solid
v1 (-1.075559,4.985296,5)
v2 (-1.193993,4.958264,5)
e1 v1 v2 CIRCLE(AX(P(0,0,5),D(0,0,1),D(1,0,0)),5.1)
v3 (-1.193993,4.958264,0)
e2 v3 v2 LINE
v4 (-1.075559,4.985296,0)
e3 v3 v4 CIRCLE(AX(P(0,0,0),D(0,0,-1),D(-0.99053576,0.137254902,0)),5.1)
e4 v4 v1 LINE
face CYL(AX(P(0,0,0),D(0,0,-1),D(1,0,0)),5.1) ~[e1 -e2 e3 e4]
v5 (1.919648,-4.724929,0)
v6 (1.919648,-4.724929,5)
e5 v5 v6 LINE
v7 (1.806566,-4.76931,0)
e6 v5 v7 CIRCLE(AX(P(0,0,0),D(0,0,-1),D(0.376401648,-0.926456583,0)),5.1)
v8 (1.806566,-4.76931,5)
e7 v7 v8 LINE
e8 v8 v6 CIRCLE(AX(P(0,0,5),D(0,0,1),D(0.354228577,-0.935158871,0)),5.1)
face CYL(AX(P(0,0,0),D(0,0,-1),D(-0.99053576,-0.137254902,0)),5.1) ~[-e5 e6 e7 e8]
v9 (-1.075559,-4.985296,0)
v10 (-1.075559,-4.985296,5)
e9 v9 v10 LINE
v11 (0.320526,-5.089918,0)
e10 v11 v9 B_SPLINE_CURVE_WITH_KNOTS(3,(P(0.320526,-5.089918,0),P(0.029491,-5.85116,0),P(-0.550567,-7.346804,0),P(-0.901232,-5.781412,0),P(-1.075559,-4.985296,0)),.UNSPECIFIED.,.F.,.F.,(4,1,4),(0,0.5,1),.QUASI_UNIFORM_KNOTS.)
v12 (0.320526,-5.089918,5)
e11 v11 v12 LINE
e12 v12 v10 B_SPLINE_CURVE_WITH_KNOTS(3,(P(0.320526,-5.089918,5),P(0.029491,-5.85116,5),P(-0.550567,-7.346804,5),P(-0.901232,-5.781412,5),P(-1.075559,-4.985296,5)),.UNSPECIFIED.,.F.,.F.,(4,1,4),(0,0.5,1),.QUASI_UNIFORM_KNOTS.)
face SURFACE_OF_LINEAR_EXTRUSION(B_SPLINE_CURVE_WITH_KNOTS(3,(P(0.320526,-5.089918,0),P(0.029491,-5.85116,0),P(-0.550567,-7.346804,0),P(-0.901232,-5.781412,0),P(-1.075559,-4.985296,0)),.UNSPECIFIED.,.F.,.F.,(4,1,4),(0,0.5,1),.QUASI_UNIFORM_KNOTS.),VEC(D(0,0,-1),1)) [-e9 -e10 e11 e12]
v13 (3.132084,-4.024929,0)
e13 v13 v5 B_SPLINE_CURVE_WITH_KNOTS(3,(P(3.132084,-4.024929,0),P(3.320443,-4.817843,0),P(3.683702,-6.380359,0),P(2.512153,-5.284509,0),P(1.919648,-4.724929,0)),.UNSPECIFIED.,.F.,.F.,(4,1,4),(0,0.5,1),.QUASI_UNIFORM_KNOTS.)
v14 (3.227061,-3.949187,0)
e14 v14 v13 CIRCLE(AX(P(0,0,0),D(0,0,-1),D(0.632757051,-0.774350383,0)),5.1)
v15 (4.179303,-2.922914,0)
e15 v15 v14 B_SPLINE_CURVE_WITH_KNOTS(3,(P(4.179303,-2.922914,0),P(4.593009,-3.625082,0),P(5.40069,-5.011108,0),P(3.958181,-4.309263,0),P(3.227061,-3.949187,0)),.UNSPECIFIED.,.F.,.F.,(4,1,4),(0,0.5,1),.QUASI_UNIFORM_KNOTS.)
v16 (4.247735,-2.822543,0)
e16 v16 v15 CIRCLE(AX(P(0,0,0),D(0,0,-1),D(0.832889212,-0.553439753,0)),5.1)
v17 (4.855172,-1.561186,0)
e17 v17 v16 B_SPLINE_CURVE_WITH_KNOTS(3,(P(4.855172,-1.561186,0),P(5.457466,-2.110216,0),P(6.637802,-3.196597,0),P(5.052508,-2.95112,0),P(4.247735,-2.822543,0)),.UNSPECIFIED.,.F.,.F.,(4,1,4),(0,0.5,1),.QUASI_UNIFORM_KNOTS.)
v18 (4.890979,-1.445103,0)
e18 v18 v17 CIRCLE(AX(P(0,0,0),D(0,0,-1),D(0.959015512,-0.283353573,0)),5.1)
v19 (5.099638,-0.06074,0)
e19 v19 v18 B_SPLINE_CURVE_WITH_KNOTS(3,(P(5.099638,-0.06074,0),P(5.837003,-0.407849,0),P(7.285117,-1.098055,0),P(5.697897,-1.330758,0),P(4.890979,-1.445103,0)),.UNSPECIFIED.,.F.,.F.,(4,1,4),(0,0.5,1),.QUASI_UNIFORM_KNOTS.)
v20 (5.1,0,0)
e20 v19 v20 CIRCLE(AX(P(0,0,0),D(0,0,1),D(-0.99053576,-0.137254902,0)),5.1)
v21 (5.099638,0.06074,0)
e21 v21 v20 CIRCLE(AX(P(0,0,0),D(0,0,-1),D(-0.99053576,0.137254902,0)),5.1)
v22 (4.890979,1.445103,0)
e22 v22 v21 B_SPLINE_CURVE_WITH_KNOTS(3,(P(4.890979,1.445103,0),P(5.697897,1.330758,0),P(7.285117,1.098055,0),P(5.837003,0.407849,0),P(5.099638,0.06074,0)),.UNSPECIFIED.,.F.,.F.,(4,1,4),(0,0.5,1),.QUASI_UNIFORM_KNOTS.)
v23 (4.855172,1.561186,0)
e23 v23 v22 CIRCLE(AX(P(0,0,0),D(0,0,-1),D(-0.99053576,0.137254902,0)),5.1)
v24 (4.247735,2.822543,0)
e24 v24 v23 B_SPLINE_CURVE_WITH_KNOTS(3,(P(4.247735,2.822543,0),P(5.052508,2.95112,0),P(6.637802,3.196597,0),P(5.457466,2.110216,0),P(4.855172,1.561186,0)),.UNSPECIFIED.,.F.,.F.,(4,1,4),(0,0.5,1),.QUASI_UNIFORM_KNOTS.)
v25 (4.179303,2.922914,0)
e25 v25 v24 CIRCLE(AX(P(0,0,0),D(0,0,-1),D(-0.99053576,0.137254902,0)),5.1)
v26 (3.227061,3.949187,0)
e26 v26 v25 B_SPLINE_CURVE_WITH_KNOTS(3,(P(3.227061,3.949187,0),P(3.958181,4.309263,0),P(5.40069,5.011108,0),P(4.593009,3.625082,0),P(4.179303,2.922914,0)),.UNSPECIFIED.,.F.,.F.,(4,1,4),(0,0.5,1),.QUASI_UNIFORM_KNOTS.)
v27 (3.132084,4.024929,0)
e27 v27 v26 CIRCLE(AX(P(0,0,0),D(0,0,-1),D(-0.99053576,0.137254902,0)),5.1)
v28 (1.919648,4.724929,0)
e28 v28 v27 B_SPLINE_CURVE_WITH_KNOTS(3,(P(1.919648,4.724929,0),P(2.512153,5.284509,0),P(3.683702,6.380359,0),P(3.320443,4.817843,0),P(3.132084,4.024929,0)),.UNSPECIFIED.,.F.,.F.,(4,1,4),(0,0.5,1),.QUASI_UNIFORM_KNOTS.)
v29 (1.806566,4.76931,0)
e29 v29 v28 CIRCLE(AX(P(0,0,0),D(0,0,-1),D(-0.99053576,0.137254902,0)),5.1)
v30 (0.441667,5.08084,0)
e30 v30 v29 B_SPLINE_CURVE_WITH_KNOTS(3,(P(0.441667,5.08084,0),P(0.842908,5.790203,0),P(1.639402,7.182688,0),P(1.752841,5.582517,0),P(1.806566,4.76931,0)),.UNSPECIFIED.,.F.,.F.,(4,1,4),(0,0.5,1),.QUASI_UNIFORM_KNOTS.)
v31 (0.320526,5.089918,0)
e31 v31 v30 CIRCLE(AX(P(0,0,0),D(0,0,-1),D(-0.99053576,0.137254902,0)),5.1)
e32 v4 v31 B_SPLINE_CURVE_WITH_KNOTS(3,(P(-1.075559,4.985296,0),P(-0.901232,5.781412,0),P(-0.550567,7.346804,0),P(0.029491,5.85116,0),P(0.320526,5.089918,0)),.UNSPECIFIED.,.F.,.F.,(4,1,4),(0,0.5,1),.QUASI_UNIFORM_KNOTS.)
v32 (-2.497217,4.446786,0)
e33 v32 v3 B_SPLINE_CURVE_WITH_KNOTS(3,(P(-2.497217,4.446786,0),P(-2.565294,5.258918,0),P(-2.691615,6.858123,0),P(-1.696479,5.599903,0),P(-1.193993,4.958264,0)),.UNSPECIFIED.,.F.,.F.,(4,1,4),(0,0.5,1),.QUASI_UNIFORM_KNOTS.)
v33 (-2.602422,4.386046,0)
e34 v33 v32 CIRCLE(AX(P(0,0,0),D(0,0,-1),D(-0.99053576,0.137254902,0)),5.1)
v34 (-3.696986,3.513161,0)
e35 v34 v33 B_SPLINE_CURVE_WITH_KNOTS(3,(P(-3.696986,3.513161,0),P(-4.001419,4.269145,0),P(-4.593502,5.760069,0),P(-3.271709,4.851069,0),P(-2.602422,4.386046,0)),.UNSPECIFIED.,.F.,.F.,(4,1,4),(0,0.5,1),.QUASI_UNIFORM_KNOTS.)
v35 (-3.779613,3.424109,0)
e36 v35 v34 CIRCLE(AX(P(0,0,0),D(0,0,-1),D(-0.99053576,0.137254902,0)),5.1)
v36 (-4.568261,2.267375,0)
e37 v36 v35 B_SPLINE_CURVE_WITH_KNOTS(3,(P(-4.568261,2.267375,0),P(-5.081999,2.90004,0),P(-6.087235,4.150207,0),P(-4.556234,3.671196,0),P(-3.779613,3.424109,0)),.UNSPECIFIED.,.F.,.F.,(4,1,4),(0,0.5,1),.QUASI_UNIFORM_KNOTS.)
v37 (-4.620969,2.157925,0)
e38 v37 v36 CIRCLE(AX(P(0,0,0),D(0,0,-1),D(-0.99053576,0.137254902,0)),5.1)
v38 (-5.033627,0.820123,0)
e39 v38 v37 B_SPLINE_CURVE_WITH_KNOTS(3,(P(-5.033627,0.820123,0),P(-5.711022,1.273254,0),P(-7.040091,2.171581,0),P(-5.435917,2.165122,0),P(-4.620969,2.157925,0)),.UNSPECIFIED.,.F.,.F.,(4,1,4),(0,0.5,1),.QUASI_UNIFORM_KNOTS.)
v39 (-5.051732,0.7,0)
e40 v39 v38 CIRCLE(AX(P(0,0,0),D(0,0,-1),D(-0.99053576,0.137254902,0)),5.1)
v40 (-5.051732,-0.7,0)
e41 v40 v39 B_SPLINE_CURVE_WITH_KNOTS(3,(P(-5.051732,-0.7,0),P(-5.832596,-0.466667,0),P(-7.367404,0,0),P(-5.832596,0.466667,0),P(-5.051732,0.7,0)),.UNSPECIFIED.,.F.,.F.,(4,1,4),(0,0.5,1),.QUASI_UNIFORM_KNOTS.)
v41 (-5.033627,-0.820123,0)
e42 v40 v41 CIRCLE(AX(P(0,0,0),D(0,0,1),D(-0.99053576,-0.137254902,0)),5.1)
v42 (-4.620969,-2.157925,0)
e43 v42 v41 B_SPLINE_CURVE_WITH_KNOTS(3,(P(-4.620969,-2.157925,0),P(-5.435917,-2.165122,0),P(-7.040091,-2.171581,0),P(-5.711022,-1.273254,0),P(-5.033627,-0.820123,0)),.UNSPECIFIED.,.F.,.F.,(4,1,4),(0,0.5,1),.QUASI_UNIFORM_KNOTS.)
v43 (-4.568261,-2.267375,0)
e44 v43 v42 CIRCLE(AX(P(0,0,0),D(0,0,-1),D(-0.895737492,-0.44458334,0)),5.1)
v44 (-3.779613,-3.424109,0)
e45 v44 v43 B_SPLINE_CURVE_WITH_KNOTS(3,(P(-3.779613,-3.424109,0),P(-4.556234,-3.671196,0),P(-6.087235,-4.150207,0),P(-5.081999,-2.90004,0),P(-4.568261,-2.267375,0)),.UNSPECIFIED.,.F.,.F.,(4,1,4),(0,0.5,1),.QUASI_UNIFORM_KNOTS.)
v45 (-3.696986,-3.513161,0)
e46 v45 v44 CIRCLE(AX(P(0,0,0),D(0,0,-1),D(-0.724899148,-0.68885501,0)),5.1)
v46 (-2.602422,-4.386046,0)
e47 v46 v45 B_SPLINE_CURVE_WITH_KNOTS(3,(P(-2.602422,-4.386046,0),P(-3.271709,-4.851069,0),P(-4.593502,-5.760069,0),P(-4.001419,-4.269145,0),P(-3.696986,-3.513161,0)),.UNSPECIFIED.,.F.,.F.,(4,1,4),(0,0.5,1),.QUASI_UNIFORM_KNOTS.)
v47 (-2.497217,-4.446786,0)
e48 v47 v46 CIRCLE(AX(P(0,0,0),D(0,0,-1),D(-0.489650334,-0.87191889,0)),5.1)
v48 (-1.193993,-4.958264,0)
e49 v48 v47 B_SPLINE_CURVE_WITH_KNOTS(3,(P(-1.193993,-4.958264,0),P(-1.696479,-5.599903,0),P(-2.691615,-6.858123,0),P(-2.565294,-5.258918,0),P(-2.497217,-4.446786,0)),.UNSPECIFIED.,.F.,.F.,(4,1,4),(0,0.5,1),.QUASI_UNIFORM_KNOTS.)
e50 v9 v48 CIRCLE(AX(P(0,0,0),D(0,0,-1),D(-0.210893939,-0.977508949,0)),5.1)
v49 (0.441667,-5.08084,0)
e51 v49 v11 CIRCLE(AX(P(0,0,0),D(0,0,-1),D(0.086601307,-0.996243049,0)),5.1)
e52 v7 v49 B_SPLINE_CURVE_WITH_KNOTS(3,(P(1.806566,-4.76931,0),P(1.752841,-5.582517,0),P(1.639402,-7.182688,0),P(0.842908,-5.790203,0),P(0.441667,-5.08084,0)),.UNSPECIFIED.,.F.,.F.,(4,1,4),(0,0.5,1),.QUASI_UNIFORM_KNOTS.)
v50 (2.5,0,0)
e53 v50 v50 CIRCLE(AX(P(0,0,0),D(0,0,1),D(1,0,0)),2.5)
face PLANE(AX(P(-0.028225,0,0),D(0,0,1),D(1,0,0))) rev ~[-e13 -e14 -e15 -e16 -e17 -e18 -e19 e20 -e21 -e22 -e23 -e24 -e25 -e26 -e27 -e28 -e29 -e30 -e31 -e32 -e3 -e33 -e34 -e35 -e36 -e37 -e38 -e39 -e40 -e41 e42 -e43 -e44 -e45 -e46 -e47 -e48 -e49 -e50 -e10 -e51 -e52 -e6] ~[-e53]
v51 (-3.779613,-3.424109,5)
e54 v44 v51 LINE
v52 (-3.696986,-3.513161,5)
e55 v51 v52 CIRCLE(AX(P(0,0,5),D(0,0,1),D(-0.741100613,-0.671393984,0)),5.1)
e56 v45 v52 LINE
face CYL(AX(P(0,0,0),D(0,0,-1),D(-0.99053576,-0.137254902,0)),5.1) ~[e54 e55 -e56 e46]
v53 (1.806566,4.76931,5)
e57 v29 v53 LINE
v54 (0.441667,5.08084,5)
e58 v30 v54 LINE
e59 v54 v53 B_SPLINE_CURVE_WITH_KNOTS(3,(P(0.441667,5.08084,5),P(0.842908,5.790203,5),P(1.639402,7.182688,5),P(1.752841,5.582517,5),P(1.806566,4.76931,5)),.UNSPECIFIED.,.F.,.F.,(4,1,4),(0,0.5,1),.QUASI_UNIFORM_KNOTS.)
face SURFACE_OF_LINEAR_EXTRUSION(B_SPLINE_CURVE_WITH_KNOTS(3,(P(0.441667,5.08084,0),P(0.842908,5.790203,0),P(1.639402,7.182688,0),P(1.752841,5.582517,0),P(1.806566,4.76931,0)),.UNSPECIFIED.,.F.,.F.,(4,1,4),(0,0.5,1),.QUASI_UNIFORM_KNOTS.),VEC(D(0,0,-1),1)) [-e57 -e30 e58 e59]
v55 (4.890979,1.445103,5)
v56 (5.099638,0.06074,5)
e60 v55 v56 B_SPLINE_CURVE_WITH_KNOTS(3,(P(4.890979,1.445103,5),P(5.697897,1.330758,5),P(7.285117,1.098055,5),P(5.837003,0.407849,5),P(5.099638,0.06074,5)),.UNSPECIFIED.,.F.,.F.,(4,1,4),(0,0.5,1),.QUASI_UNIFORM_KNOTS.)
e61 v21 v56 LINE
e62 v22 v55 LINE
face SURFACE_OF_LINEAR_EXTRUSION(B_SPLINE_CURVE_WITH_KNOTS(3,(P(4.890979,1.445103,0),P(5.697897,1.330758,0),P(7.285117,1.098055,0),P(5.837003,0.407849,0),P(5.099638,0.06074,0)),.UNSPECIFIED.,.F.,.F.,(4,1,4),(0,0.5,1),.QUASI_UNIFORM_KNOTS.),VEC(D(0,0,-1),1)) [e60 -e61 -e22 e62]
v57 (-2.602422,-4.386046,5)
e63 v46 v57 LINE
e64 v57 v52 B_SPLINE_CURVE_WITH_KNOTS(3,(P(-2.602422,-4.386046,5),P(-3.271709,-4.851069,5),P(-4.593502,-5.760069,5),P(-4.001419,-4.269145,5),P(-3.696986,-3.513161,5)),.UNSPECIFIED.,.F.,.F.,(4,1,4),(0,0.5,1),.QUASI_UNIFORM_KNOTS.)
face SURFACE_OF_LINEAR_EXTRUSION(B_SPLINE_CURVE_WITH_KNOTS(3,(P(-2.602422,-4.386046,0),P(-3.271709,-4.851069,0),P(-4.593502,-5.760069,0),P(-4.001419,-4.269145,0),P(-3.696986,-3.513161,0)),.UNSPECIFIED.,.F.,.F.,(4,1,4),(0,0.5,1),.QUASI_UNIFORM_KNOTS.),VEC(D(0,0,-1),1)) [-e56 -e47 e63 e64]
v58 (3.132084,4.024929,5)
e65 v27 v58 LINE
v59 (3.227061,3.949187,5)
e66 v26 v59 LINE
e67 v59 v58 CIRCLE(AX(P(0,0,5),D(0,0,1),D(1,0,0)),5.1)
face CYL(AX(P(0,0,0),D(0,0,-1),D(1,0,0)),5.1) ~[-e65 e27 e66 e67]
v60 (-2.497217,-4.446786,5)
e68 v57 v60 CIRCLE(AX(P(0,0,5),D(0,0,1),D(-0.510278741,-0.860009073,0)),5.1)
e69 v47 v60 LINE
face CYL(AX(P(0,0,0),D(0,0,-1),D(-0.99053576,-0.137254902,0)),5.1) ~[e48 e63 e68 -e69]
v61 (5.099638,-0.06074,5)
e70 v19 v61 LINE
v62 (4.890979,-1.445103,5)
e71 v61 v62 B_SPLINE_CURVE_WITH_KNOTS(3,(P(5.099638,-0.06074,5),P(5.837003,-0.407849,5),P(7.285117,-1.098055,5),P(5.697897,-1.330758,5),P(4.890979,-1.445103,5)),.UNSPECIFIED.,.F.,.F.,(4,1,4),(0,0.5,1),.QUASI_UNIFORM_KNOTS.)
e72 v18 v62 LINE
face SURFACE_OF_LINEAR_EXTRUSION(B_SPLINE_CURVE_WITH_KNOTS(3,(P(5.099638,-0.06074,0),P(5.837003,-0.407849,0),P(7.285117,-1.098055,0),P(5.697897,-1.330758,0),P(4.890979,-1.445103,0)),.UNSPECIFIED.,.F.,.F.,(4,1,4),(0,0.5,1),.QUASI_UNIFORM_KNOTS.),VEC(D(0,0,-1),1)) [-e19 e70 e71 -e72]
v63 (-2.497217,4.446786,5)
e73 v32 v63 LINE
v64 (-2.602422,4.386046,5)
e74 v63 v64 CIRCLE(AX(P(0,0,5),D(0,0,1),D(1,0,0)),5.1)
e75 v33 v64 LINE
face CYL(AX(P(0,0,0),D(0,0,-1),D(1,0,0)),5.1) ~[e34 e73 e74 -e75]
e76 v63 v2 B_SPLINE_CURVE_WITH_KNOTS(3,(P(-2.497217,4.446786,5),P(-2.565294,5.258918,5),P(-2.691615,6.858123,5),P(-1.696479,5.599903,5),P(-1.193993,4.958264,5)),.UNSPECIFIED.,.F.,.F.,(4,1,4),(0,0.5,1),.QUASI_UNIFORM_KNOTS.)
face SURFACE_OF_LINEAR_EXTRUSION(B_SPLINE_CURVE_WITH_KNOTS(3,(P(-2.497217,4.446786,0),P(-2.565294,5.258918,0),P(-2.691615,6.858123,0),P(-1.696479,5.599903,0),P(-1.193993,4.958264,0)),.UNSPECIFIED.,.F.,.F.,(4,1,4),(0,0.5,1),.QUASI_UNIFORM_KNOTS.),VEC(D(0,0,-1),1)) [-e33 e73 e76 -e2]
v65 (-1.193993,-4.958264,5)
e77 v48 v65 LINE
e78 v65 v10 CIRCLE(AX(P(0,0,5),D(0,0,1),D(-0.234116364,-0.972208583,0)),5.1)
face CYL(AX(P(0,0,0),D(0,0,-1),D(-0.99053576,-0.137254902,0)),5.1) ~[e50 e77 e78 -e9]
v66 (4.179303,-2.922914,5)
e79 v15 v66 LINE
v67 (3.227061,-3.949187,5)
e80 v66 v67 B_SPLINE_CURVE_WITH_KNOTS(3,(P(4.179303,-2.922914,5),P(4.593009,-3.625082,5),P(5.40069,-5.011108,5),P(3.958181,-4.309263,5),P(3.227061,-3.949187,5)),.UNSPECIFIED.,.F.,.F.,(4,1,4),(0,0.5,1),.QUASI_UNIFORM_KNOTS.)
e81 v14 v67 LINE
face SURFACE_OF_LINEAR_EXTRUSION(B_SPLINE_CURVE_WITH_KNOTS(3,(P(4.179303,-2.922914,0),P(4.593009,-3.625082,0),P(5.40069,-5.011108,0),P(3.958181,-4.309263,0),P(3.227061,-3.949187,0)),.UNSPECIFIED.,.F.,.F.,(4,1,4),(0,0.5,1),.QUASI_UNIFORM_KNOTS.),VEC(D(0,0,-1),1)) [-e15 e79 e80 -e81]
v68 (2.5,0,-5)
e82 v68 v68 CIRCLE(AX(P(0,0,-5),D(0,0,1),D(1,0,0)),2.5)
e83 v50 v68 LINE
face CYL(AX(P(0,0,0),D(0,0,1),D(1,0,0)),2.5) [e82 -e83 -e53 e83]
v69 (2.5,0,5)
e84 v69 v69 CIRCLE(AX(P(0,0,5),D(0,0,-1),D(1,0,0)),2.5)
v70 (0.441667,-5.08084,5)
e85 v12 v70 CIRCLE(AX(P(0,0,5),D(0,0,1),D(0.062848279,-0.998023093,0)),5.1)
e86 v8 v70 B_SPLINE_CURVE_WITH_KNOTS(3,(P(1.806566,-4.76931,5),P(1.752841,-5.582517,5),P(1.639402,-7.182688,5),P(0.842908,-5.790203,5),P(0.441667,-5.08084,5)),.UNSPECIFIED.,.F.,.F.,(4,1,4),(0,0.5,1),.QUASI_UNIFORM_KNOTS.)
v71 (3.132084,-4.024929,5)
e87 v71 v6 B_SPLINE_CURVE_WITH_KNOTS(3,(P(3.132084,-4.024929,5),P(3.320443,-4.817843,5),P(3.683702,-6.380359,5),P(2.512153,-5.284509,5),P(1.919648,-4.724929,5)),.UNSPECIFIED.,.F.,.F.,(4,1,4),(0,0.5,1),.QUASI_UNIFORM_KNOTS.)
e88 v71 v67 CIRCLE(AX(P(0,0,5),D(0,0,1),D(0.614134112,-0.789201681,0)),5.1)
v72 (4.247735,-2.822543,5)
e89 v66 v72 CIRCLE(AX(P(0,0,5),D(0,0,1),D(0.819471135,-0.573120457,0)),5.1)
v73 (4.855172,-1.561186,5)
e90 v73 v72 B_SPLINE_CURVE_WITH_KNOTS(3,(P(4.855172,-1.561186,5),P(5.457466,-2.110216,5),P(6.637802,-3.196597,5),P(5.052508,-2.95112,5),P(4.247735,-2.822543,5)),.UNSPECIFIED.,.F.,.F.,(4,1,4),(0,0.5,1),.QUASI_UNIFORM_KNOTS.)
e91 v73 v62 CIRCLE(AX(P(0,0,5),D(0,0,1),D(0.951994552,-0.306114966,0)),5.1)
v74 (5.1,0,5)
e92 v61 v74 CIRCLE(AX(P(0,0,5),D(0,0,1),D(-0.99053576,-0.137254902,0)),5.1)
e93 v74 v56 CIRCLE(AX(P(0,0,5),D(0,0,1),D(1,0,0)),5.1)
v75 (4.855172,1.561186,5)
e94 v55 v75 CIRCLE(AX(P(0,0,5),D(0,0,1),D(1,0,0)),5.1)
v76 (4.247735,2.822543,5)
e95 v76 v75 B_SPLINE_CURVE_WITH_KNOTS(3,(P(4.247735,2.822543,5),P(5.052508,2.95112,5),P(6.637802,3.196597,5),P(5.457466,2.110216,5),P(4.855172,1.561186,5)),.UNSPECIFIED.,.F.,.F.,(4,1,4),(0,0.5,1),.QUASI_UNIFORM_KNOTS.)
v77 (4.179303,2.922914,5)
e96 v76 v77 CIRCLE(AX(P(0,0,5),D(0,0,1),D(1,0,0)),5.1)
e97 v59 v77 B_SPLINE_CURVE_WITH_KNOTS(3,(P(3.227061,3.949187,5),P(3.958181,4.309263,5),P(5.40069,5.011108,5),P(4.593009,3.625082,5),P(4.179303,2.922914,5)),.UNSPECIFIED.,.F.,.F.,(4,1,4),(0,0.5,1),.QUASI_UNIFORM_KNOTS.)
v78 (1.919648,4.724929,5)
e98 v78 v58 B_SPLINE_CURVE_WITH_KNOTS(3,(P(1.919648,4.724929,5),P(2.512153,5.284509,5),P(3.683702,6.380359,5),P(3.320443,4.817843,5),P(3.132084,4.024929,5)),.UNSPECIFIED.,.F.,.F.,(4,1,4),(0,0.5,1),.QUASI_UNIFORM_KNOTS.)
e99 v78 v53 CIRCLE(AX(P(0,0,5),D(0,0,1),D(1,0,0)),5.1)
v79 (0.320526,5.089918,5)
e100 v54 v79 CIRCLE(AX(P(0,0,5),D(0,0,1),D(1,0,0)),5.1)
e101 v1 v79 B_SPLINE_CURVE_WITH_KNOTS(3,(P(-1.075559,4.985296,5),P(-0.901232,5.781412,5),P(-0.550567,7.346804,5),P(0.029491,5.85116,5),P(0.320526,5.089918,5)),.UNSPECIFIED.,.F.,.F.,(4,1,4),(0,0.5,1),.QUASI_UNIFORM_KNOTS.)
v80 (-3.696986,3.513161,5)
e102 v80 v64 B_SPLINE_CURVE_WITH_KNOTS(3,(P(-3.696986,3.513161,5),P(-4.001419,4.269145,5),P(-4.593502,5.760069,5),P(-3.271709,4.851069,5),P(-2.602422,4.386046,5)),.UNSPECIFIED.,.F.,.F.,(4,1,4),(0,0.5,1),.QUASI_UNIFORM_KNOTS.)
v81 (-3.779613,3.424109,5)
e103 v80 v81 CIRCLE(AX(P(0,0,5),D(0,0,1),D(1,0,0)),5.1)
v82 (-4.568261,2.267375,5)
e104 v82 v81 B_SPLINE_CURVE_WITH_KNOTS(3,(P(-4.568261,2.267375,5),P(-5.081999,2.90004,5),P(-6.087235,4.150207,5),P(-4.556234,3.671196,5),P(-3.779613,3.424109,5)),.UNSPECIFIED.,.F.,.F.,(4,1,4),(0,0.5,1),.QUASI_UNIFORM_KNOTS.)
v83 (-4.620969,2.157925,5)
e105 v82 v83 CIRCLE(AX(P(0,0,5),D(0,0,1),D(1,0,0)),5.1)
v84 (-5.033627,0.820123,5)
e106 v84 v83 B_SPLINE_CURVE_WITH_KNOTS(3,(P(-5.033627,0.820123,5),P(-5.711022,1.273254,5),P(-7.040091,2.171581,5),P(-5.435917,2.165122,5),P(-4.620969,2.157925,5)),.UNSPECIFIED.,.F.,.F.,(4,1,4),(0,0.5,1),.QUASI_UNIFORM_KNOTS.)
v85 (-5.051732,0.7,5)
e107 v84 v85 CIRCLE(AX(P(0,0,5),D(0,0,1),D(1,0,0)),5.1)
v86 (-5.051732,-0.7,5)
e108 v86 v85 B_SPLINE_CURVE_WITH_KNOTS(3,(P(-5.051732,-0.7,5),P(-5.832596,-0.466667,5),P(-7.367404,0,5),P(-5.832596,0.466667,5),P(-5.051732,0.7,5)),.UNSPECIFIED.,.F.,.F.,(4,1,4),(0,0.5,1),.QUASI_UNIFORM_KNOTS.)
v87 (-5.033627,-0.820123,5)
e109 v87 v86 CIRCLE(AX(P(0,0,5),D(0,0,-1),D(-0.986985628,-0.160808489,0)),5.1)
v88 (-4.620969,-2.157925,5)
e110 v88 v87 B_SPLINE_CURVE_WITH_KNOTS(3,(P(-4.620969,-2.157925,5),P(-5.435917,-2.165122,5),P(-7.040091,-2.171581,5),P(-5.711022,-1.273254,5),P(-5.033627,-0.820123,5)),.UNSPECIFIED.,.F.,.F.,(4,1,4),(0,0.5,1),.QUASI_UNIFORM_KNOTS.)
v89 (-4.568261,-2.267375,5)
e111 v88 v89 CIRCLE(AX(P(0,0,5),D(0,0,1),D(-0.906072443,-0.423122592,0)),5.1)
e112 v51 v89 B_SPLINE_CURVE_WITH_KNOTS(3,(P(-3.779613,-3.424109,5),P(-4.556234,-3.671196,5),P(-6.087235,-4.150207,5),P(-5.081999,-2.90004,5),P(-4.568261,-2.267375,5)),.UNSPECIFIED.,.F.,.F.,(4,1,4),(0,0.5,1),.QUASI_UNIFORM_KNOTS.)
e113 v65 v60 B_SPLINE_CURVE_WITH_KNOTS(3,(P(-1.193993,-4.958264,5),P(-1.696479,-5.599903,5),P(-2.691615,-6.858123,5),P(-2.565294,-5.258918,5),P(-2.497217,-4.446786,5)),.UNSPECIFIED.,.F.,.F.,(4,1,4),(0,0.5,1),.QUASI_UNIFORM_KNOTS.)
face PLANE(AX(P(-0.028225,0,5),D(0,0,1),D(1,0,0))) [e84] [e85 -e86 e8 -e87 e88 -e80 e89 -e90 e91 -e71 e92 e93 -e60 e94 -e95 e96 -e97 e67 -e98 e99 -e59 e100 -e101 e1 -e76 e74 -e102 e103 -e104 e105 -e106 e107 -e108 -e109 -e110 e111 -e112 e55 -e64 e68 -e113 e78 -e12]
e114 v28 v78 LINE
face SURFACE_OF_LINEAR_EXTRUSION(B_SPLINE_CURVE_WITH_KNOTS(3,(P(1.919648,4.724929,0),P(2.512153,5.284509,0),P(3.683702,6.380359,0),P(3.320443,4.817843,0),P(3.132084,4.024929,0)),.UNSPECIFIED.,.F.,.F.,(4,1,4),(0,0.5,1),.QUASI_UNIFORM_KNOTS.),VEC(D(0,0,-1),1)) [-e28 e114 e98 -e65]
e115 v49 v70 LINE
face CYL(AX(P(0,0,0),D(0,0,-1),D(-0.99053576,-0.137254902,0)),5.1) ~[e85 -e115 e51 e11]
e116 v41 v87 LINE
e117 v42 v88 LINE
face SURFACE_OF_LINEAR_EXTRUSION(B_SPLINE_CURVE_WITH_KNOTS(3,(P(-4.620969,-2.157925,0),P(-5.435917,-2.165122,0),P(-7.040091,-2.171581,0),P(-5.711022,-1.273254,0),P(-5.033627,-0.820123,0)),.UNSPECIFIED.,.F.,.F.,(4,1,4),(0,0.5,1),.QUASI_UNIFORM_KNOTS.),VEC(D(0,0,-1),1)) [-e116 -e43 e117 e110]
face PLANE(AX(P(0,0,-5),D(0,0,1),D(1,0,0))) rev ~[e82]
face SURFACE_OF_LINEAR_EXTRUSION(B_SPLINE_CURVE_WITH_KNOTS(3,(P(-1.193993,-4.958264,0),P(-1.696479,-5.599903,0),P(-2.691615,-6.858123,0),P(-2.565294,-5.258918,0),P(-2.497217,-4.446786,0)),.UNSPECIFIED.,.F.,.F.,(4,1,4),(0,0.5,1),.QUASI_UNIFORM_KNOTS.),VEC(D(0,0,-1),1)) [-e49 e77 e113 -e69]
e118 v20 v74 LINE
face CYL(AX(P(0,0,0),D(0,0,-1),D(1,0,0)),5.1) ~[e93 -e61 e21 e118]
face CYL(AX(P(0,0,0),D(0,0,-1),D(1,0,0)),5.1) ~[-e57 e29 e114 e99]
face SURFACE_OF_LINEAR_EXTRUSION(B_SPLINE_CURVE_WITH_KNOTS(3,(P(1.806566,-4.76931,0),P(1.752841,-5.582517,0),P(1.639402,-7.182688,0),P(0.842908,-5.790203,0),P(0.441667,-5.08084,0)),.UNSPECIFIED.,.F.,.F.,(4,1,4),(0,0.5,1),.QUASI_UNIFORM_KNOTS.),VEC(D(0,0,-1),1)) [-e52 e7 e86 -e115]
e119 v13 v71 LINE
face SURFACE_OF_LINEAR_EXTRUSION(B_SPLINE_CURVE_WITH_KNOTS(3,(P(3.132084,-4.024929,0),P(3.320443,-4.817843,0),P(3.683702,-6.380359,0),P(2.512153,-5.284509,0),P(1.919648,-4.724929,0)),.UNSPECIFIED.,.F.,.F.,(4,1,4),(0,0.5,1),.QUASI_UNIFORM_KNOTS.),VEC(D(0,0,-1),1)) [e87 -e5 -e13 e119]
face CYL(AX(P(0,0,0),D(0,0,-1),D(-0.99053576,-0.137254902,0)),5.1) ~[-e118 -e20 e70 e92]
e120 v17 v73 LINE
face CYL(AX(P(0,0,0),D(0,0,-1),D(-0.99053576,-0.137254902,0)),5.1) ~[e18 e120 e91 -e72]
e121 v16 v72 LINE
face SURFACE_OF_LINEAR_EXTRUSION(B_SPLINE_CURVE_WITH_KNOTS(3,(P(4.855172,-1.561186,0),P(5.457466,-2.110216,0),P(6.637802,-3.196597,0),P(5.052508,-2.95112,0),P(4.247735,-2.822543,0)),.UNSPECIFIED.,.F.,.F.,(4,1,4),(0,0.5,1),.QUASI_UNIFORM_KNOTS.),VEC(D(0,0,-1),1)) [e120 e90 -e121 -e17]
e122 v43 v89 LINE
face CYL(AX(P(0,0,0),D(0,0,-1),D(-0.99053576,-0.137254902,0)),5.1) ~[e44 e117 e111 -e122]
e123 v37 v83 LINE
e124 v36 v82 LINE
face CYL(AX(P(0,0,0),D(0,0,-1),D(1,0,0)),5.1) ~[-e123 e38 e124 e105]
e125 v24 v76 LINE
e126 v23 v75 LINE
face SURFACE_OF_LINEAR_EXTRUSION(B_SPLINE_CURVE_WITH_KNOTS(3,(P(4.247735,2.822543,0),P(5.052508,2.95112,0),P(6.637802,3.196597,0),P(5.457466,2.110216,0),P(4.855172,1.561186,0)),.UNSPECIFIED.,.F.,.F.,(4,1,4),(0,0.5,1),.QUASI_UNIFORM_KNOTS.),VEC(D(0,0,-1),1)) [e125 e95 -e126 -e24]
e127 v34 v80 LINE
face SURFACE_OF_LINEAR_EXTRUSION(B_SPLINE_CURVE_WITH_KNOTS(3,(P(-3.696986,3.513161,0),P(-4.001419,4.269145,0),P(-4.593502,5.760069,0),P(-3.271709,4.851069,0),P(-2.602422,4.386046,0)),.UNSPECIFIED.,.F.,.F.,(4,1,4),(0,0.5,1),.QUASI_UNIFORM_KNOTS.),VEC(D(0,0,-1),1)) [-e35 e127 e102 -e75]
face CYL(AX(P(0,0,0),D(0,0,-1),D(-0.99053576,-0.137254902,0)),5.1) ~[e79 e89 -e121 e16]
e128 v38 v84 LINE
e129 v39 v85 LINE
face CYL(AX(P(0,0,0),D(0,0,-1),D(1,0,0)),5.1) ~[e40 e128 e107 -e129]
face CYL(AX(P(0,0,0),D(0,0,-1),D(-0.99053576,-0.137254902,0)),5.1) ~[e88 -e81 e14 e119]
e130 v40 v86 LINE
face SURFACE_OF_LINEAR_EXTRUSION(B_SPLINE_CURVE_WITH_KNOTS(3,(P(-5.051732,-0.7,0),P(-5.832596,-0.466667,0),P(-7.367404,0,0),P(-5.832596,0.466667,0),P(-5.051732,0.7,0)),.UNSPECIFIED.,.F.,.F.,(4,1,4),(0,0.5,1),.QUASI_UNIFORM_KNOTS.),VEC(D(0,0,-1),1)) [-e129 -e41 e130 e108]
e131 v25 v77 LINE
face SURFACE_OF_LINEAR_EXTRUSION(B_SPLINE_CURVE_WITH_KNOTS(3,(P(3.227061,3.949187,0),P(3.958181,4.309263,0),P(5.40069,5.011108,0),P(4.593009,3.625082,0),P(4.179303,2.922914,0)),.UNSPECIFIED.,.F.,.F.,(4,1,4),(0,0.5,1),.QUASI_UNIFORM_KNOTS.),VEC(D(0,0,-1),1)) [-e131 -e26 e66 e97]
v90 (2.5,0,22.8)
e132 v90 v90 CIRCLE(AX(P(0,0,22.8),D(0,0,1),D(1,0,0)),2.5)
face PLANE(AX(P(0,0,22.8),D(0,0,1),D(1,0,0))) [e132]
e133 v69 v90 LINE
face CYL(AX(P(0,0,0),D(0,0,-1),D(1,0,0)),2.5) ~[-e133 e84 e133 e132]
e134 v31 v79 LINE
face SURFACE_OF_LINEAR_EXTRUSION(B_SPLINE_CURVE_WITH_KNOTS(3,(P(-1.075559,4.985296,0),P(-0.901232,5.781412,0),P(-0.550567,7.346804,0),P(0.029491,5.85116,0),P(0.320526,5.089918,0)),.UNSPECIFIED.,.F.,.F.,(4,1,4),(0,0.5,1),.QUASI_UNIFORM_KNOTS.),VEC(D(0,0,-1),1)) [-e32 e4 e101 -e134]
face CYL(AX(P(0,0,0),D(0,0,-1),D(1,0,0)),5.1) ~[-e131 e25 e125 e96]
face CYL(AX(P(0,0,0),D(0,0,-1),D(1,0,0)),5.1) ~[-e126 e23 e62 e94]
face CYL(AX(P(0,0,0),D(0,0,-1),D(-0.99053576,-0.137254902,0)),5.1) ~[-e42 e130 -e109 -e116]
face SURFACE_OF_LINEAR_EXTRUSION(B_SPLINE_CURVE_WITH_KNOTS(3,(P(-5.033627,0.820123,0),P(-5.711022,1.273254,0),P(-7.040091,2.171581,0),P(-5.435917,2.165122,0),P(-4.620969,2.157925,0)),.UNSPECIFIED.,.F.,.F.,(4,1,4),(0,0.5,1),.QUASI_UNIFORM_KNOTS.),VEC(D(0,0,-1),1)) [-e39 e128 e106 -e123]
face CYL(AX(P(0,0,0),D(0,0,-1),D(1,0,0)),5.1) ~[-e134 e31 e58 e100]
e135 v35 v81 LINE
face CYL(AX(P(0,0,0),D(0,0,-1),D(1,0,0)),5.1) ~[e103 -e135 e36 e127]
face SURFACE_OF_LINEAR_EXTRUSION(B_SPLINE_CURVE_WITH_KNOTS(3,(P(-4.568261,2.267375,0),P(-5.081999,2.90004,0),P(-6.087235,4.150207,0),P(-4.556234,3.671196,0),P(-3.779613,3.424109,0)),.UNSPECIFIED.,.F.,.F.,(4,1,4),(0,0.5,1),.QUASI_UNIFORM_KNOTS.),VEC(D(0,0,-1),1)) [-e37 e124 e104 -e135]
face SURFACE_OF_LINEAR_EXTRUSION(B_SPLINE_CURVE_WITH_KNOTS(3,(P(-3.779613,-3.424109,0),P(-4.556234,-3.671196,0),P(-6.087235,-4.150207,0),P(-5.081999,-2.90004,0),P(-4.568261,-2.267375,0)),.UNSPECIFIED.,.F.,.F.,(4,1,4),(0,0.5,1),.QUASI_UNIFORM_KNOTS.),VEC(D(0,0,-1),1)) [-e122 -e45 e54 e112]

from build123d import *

# Parameters (mm, degrees)
F0_R     = 2.5
F1_DEPTH = 5
F2_COUNT = 21
F3_DEPTH = 22.8
F4_DEPTH = 5


with BuildPart() as f1:
    # F0 (on Top) → F1 (new body)
    with BuildSketch(Plane.XY):
        with BuildLine():
            ThreePointArc((-5.0517323761, -0.7), (0.3508310717, -5.0879187846), (5.1, 0))
            ThreePointArc((5.1, 0), (0.3508310717, 5.0879187846), (-5.0517323761, 0.7))
            ThreePointArc((-5.0517323761, 0.7), (-5.1, 0), (-5.0517323761, -0.7))
        make_face()
        Circle(F0_R, mode=Mode.SUBTRACT)
        with BuildLine():
            ThreePointArc((-5.0517323761, -0.7), (-5.1, 0), (-5.0517323761, 0.7))
            add(Edge.make_bspline(
                [(-5.0517323761, -0.7), (-5.8325955094, -0.4666666667), (-7.3674044906, 0), (-5.8325955094, 0.4666666667), (-5.0517323761, 0.7)],
                knots=[0, 0, 0, 0, 0.5, 1, 1, 1, 1], degree=3))
        make_face()
    extrude(amount=F1_DEPTH)


with BuildPart() as f2_1:
    # F2: instance of F1
    add(f1.part.rotate(Axis((0, 0, 5), (0, 0, 1)), 1 * 360 / F2_COUNT))


with BuildPart() as f2_2:
    # F2: instance of F1
    add(f1.part.rotate(Axis((0, 0, 5), (0, 0, 1)), 2 * 360 / F2_COUNT))


with BuildPart() as f2_3:
    # F2: instance of F1
    add(f1.part.rotate(Axis((0, 0, 5), (0, 0, 1)), 3 * 360 / F2_COUNT))


with BuildPart() as f2_4:
    # F2: instance of F1
    add(f1.part.rotate(Axis((0, 0, 5), (0, 0, 1)), 4 * 360 / F2_COUNT))


with BuildPart() as f2_5:
    # F2: instance of F1
    add(f1.part.rotate(Axis((0, 0, 5), (0, 0, 1)), 5 * 360 / F2_COUNT))


with BuildPart() as f2_6:
    # F2: instance of F1
    add(f1.part.rotate(Axis((0, 0, 5), (0, 0, 1)), 6 * 360 / F2_COUNT))


with BuildPart() as f2_7:
    # F2: instance of F1
    add(f1.part.rotate(Axis((0, 0, 5), (0, 0, 1)), 7 * 360 / F2_COUNT))


with BuildPart() as f2_8:
    # F2: instance of F1
    add(f1.part.rotate(Axis((0, 0, 5), (0, 0, 1)), 8 * 360 / F2_COUNT))


with BuildPart() as f2_9:
    # F2: instance of F1
    add(f1.part.rotate(Axis((0, 0, 5), (0, 0, 1)), 9 * 360 / F2_COUNT))


with BuildPart() as f2_10:
    # F2: instance of F1
    add(f1.part.rotate(Axis((0, 0, 5), (0, 0, 1)), 10 * 360 / F2_COUNT))


with BuildPart() as f2_11:
    # F2: instance of F1
    add(f1.part.rotate(Axis((0, 0, 5), (0, 0, 1)), 11 * 360 / F2_COUNT))


with BuildPart() as f2_12:
    # F2: instance of F1
    add(f1.part.rotate(Axis((0, 0, 5), (0, 0, 1)), 12 * 360 / F2_COUNT))


with BuildPart() as f2_13:
    # F2: instance of F1
    add(f1.part.rotate(Axis((0, 0, 5), (0, 0, 1)), 13 * 360 / F2_COUNT))


with BuildPart() as f2_14:
    # F2: instance of F1
    add(f1.part.rotate(Axis((0, 0, 5), (0, 0, 1)), 14 * 360 / F2_COUNT))


with BuildPart() as f2_15:
    # F2: instance of F1
    add(f1.part.rotate(Axis((0, 0, 5), (0, 0, 1)), 15 * 360 / F2_COUNT))


with BuildPart() as f2_16:
    # F2: instance of F1
    add(f1.part.rotate(Axis((0, 0, 5), (0, 0, 1)), 16 * 360 / F2_COUNT))


with BuildPart() as f2_17:
    # F2: instance of F1
    add(f1.part.rotate(Axis((0, 0, 5), (0, 0, 1)), 17 * 360 / F2_COUNT))


with BuildPart() as f2_18:
    # F2: instance of F1
    add(f1.part.rotate(Axis((0, 0, 5), (0, 0, 1)), 18 * 360 / F2_COUNT))


with BuildPart() as f2_19:
    # F2: instance of F1
    add(f1.part.rotate(Axis((0, 0, 5), (0, 0, 1)), 19 * 360 / F2_COUNT))


with BuildPart() as f2_20:
    # F2: instance of F1
    add(f1.part.rotate(Axis((0, 0, 5), (0, 0, 1)), 20 * 360 / F2_COUNT))


with BuildPart() as f1_1:
    add(f1.part)

    add(f2_1.part)  # F3 merges F2_1

    add(f2_2.part)  # F3 merges F2_2

    add(f2_3.part)  # F3 merges F2_3

    add(f2_4.part)  # F3 merges F2_4

    add(f2_5.part)  # F3 merges F2_5

    add(f2_6.part)  # F3 merges F2_6

    add(f2_7.part)  # F3 merges F2_7

    add(f2_8.part)  # F3 merges F2_8

    add(f2_9.part)  # F3 merges F2_9

    add(f2_10.part)  # F3 merges F2_10

    add(f2_11.part)  # F3 merges F2_11

    add(f2_12.part)  # F3 merges F2_12

    add(f2_13.part)  # F3 merges F2_13

    add(f2_14.part)  # F3 merges F2_14

    add(f2_15.part)  # F3 merges F2_15

    add(f2_16.part)  # F3 merges F2_16

    add(f2_17.part)  # F3 merges F2_17

    add(f2_18.part)  # F3 merges F2_18

    add(f2_19.part)  # F3 merges F2_19

    add(f2_20.part)  # F3 merges F2_20
    # F0 (on Top) → F3 (join)
    with BuildSketch(Plane.XY):
        Circle(F0_R)
    extrude(amount=F3_DEPTH)

    # F0 (on Top) → F4 (join)
    with BuildSketch(Plane.XY):
        Circle(F0_R)
    extrude(amount=-F4_DEPTH)


solid = f1_1.part
